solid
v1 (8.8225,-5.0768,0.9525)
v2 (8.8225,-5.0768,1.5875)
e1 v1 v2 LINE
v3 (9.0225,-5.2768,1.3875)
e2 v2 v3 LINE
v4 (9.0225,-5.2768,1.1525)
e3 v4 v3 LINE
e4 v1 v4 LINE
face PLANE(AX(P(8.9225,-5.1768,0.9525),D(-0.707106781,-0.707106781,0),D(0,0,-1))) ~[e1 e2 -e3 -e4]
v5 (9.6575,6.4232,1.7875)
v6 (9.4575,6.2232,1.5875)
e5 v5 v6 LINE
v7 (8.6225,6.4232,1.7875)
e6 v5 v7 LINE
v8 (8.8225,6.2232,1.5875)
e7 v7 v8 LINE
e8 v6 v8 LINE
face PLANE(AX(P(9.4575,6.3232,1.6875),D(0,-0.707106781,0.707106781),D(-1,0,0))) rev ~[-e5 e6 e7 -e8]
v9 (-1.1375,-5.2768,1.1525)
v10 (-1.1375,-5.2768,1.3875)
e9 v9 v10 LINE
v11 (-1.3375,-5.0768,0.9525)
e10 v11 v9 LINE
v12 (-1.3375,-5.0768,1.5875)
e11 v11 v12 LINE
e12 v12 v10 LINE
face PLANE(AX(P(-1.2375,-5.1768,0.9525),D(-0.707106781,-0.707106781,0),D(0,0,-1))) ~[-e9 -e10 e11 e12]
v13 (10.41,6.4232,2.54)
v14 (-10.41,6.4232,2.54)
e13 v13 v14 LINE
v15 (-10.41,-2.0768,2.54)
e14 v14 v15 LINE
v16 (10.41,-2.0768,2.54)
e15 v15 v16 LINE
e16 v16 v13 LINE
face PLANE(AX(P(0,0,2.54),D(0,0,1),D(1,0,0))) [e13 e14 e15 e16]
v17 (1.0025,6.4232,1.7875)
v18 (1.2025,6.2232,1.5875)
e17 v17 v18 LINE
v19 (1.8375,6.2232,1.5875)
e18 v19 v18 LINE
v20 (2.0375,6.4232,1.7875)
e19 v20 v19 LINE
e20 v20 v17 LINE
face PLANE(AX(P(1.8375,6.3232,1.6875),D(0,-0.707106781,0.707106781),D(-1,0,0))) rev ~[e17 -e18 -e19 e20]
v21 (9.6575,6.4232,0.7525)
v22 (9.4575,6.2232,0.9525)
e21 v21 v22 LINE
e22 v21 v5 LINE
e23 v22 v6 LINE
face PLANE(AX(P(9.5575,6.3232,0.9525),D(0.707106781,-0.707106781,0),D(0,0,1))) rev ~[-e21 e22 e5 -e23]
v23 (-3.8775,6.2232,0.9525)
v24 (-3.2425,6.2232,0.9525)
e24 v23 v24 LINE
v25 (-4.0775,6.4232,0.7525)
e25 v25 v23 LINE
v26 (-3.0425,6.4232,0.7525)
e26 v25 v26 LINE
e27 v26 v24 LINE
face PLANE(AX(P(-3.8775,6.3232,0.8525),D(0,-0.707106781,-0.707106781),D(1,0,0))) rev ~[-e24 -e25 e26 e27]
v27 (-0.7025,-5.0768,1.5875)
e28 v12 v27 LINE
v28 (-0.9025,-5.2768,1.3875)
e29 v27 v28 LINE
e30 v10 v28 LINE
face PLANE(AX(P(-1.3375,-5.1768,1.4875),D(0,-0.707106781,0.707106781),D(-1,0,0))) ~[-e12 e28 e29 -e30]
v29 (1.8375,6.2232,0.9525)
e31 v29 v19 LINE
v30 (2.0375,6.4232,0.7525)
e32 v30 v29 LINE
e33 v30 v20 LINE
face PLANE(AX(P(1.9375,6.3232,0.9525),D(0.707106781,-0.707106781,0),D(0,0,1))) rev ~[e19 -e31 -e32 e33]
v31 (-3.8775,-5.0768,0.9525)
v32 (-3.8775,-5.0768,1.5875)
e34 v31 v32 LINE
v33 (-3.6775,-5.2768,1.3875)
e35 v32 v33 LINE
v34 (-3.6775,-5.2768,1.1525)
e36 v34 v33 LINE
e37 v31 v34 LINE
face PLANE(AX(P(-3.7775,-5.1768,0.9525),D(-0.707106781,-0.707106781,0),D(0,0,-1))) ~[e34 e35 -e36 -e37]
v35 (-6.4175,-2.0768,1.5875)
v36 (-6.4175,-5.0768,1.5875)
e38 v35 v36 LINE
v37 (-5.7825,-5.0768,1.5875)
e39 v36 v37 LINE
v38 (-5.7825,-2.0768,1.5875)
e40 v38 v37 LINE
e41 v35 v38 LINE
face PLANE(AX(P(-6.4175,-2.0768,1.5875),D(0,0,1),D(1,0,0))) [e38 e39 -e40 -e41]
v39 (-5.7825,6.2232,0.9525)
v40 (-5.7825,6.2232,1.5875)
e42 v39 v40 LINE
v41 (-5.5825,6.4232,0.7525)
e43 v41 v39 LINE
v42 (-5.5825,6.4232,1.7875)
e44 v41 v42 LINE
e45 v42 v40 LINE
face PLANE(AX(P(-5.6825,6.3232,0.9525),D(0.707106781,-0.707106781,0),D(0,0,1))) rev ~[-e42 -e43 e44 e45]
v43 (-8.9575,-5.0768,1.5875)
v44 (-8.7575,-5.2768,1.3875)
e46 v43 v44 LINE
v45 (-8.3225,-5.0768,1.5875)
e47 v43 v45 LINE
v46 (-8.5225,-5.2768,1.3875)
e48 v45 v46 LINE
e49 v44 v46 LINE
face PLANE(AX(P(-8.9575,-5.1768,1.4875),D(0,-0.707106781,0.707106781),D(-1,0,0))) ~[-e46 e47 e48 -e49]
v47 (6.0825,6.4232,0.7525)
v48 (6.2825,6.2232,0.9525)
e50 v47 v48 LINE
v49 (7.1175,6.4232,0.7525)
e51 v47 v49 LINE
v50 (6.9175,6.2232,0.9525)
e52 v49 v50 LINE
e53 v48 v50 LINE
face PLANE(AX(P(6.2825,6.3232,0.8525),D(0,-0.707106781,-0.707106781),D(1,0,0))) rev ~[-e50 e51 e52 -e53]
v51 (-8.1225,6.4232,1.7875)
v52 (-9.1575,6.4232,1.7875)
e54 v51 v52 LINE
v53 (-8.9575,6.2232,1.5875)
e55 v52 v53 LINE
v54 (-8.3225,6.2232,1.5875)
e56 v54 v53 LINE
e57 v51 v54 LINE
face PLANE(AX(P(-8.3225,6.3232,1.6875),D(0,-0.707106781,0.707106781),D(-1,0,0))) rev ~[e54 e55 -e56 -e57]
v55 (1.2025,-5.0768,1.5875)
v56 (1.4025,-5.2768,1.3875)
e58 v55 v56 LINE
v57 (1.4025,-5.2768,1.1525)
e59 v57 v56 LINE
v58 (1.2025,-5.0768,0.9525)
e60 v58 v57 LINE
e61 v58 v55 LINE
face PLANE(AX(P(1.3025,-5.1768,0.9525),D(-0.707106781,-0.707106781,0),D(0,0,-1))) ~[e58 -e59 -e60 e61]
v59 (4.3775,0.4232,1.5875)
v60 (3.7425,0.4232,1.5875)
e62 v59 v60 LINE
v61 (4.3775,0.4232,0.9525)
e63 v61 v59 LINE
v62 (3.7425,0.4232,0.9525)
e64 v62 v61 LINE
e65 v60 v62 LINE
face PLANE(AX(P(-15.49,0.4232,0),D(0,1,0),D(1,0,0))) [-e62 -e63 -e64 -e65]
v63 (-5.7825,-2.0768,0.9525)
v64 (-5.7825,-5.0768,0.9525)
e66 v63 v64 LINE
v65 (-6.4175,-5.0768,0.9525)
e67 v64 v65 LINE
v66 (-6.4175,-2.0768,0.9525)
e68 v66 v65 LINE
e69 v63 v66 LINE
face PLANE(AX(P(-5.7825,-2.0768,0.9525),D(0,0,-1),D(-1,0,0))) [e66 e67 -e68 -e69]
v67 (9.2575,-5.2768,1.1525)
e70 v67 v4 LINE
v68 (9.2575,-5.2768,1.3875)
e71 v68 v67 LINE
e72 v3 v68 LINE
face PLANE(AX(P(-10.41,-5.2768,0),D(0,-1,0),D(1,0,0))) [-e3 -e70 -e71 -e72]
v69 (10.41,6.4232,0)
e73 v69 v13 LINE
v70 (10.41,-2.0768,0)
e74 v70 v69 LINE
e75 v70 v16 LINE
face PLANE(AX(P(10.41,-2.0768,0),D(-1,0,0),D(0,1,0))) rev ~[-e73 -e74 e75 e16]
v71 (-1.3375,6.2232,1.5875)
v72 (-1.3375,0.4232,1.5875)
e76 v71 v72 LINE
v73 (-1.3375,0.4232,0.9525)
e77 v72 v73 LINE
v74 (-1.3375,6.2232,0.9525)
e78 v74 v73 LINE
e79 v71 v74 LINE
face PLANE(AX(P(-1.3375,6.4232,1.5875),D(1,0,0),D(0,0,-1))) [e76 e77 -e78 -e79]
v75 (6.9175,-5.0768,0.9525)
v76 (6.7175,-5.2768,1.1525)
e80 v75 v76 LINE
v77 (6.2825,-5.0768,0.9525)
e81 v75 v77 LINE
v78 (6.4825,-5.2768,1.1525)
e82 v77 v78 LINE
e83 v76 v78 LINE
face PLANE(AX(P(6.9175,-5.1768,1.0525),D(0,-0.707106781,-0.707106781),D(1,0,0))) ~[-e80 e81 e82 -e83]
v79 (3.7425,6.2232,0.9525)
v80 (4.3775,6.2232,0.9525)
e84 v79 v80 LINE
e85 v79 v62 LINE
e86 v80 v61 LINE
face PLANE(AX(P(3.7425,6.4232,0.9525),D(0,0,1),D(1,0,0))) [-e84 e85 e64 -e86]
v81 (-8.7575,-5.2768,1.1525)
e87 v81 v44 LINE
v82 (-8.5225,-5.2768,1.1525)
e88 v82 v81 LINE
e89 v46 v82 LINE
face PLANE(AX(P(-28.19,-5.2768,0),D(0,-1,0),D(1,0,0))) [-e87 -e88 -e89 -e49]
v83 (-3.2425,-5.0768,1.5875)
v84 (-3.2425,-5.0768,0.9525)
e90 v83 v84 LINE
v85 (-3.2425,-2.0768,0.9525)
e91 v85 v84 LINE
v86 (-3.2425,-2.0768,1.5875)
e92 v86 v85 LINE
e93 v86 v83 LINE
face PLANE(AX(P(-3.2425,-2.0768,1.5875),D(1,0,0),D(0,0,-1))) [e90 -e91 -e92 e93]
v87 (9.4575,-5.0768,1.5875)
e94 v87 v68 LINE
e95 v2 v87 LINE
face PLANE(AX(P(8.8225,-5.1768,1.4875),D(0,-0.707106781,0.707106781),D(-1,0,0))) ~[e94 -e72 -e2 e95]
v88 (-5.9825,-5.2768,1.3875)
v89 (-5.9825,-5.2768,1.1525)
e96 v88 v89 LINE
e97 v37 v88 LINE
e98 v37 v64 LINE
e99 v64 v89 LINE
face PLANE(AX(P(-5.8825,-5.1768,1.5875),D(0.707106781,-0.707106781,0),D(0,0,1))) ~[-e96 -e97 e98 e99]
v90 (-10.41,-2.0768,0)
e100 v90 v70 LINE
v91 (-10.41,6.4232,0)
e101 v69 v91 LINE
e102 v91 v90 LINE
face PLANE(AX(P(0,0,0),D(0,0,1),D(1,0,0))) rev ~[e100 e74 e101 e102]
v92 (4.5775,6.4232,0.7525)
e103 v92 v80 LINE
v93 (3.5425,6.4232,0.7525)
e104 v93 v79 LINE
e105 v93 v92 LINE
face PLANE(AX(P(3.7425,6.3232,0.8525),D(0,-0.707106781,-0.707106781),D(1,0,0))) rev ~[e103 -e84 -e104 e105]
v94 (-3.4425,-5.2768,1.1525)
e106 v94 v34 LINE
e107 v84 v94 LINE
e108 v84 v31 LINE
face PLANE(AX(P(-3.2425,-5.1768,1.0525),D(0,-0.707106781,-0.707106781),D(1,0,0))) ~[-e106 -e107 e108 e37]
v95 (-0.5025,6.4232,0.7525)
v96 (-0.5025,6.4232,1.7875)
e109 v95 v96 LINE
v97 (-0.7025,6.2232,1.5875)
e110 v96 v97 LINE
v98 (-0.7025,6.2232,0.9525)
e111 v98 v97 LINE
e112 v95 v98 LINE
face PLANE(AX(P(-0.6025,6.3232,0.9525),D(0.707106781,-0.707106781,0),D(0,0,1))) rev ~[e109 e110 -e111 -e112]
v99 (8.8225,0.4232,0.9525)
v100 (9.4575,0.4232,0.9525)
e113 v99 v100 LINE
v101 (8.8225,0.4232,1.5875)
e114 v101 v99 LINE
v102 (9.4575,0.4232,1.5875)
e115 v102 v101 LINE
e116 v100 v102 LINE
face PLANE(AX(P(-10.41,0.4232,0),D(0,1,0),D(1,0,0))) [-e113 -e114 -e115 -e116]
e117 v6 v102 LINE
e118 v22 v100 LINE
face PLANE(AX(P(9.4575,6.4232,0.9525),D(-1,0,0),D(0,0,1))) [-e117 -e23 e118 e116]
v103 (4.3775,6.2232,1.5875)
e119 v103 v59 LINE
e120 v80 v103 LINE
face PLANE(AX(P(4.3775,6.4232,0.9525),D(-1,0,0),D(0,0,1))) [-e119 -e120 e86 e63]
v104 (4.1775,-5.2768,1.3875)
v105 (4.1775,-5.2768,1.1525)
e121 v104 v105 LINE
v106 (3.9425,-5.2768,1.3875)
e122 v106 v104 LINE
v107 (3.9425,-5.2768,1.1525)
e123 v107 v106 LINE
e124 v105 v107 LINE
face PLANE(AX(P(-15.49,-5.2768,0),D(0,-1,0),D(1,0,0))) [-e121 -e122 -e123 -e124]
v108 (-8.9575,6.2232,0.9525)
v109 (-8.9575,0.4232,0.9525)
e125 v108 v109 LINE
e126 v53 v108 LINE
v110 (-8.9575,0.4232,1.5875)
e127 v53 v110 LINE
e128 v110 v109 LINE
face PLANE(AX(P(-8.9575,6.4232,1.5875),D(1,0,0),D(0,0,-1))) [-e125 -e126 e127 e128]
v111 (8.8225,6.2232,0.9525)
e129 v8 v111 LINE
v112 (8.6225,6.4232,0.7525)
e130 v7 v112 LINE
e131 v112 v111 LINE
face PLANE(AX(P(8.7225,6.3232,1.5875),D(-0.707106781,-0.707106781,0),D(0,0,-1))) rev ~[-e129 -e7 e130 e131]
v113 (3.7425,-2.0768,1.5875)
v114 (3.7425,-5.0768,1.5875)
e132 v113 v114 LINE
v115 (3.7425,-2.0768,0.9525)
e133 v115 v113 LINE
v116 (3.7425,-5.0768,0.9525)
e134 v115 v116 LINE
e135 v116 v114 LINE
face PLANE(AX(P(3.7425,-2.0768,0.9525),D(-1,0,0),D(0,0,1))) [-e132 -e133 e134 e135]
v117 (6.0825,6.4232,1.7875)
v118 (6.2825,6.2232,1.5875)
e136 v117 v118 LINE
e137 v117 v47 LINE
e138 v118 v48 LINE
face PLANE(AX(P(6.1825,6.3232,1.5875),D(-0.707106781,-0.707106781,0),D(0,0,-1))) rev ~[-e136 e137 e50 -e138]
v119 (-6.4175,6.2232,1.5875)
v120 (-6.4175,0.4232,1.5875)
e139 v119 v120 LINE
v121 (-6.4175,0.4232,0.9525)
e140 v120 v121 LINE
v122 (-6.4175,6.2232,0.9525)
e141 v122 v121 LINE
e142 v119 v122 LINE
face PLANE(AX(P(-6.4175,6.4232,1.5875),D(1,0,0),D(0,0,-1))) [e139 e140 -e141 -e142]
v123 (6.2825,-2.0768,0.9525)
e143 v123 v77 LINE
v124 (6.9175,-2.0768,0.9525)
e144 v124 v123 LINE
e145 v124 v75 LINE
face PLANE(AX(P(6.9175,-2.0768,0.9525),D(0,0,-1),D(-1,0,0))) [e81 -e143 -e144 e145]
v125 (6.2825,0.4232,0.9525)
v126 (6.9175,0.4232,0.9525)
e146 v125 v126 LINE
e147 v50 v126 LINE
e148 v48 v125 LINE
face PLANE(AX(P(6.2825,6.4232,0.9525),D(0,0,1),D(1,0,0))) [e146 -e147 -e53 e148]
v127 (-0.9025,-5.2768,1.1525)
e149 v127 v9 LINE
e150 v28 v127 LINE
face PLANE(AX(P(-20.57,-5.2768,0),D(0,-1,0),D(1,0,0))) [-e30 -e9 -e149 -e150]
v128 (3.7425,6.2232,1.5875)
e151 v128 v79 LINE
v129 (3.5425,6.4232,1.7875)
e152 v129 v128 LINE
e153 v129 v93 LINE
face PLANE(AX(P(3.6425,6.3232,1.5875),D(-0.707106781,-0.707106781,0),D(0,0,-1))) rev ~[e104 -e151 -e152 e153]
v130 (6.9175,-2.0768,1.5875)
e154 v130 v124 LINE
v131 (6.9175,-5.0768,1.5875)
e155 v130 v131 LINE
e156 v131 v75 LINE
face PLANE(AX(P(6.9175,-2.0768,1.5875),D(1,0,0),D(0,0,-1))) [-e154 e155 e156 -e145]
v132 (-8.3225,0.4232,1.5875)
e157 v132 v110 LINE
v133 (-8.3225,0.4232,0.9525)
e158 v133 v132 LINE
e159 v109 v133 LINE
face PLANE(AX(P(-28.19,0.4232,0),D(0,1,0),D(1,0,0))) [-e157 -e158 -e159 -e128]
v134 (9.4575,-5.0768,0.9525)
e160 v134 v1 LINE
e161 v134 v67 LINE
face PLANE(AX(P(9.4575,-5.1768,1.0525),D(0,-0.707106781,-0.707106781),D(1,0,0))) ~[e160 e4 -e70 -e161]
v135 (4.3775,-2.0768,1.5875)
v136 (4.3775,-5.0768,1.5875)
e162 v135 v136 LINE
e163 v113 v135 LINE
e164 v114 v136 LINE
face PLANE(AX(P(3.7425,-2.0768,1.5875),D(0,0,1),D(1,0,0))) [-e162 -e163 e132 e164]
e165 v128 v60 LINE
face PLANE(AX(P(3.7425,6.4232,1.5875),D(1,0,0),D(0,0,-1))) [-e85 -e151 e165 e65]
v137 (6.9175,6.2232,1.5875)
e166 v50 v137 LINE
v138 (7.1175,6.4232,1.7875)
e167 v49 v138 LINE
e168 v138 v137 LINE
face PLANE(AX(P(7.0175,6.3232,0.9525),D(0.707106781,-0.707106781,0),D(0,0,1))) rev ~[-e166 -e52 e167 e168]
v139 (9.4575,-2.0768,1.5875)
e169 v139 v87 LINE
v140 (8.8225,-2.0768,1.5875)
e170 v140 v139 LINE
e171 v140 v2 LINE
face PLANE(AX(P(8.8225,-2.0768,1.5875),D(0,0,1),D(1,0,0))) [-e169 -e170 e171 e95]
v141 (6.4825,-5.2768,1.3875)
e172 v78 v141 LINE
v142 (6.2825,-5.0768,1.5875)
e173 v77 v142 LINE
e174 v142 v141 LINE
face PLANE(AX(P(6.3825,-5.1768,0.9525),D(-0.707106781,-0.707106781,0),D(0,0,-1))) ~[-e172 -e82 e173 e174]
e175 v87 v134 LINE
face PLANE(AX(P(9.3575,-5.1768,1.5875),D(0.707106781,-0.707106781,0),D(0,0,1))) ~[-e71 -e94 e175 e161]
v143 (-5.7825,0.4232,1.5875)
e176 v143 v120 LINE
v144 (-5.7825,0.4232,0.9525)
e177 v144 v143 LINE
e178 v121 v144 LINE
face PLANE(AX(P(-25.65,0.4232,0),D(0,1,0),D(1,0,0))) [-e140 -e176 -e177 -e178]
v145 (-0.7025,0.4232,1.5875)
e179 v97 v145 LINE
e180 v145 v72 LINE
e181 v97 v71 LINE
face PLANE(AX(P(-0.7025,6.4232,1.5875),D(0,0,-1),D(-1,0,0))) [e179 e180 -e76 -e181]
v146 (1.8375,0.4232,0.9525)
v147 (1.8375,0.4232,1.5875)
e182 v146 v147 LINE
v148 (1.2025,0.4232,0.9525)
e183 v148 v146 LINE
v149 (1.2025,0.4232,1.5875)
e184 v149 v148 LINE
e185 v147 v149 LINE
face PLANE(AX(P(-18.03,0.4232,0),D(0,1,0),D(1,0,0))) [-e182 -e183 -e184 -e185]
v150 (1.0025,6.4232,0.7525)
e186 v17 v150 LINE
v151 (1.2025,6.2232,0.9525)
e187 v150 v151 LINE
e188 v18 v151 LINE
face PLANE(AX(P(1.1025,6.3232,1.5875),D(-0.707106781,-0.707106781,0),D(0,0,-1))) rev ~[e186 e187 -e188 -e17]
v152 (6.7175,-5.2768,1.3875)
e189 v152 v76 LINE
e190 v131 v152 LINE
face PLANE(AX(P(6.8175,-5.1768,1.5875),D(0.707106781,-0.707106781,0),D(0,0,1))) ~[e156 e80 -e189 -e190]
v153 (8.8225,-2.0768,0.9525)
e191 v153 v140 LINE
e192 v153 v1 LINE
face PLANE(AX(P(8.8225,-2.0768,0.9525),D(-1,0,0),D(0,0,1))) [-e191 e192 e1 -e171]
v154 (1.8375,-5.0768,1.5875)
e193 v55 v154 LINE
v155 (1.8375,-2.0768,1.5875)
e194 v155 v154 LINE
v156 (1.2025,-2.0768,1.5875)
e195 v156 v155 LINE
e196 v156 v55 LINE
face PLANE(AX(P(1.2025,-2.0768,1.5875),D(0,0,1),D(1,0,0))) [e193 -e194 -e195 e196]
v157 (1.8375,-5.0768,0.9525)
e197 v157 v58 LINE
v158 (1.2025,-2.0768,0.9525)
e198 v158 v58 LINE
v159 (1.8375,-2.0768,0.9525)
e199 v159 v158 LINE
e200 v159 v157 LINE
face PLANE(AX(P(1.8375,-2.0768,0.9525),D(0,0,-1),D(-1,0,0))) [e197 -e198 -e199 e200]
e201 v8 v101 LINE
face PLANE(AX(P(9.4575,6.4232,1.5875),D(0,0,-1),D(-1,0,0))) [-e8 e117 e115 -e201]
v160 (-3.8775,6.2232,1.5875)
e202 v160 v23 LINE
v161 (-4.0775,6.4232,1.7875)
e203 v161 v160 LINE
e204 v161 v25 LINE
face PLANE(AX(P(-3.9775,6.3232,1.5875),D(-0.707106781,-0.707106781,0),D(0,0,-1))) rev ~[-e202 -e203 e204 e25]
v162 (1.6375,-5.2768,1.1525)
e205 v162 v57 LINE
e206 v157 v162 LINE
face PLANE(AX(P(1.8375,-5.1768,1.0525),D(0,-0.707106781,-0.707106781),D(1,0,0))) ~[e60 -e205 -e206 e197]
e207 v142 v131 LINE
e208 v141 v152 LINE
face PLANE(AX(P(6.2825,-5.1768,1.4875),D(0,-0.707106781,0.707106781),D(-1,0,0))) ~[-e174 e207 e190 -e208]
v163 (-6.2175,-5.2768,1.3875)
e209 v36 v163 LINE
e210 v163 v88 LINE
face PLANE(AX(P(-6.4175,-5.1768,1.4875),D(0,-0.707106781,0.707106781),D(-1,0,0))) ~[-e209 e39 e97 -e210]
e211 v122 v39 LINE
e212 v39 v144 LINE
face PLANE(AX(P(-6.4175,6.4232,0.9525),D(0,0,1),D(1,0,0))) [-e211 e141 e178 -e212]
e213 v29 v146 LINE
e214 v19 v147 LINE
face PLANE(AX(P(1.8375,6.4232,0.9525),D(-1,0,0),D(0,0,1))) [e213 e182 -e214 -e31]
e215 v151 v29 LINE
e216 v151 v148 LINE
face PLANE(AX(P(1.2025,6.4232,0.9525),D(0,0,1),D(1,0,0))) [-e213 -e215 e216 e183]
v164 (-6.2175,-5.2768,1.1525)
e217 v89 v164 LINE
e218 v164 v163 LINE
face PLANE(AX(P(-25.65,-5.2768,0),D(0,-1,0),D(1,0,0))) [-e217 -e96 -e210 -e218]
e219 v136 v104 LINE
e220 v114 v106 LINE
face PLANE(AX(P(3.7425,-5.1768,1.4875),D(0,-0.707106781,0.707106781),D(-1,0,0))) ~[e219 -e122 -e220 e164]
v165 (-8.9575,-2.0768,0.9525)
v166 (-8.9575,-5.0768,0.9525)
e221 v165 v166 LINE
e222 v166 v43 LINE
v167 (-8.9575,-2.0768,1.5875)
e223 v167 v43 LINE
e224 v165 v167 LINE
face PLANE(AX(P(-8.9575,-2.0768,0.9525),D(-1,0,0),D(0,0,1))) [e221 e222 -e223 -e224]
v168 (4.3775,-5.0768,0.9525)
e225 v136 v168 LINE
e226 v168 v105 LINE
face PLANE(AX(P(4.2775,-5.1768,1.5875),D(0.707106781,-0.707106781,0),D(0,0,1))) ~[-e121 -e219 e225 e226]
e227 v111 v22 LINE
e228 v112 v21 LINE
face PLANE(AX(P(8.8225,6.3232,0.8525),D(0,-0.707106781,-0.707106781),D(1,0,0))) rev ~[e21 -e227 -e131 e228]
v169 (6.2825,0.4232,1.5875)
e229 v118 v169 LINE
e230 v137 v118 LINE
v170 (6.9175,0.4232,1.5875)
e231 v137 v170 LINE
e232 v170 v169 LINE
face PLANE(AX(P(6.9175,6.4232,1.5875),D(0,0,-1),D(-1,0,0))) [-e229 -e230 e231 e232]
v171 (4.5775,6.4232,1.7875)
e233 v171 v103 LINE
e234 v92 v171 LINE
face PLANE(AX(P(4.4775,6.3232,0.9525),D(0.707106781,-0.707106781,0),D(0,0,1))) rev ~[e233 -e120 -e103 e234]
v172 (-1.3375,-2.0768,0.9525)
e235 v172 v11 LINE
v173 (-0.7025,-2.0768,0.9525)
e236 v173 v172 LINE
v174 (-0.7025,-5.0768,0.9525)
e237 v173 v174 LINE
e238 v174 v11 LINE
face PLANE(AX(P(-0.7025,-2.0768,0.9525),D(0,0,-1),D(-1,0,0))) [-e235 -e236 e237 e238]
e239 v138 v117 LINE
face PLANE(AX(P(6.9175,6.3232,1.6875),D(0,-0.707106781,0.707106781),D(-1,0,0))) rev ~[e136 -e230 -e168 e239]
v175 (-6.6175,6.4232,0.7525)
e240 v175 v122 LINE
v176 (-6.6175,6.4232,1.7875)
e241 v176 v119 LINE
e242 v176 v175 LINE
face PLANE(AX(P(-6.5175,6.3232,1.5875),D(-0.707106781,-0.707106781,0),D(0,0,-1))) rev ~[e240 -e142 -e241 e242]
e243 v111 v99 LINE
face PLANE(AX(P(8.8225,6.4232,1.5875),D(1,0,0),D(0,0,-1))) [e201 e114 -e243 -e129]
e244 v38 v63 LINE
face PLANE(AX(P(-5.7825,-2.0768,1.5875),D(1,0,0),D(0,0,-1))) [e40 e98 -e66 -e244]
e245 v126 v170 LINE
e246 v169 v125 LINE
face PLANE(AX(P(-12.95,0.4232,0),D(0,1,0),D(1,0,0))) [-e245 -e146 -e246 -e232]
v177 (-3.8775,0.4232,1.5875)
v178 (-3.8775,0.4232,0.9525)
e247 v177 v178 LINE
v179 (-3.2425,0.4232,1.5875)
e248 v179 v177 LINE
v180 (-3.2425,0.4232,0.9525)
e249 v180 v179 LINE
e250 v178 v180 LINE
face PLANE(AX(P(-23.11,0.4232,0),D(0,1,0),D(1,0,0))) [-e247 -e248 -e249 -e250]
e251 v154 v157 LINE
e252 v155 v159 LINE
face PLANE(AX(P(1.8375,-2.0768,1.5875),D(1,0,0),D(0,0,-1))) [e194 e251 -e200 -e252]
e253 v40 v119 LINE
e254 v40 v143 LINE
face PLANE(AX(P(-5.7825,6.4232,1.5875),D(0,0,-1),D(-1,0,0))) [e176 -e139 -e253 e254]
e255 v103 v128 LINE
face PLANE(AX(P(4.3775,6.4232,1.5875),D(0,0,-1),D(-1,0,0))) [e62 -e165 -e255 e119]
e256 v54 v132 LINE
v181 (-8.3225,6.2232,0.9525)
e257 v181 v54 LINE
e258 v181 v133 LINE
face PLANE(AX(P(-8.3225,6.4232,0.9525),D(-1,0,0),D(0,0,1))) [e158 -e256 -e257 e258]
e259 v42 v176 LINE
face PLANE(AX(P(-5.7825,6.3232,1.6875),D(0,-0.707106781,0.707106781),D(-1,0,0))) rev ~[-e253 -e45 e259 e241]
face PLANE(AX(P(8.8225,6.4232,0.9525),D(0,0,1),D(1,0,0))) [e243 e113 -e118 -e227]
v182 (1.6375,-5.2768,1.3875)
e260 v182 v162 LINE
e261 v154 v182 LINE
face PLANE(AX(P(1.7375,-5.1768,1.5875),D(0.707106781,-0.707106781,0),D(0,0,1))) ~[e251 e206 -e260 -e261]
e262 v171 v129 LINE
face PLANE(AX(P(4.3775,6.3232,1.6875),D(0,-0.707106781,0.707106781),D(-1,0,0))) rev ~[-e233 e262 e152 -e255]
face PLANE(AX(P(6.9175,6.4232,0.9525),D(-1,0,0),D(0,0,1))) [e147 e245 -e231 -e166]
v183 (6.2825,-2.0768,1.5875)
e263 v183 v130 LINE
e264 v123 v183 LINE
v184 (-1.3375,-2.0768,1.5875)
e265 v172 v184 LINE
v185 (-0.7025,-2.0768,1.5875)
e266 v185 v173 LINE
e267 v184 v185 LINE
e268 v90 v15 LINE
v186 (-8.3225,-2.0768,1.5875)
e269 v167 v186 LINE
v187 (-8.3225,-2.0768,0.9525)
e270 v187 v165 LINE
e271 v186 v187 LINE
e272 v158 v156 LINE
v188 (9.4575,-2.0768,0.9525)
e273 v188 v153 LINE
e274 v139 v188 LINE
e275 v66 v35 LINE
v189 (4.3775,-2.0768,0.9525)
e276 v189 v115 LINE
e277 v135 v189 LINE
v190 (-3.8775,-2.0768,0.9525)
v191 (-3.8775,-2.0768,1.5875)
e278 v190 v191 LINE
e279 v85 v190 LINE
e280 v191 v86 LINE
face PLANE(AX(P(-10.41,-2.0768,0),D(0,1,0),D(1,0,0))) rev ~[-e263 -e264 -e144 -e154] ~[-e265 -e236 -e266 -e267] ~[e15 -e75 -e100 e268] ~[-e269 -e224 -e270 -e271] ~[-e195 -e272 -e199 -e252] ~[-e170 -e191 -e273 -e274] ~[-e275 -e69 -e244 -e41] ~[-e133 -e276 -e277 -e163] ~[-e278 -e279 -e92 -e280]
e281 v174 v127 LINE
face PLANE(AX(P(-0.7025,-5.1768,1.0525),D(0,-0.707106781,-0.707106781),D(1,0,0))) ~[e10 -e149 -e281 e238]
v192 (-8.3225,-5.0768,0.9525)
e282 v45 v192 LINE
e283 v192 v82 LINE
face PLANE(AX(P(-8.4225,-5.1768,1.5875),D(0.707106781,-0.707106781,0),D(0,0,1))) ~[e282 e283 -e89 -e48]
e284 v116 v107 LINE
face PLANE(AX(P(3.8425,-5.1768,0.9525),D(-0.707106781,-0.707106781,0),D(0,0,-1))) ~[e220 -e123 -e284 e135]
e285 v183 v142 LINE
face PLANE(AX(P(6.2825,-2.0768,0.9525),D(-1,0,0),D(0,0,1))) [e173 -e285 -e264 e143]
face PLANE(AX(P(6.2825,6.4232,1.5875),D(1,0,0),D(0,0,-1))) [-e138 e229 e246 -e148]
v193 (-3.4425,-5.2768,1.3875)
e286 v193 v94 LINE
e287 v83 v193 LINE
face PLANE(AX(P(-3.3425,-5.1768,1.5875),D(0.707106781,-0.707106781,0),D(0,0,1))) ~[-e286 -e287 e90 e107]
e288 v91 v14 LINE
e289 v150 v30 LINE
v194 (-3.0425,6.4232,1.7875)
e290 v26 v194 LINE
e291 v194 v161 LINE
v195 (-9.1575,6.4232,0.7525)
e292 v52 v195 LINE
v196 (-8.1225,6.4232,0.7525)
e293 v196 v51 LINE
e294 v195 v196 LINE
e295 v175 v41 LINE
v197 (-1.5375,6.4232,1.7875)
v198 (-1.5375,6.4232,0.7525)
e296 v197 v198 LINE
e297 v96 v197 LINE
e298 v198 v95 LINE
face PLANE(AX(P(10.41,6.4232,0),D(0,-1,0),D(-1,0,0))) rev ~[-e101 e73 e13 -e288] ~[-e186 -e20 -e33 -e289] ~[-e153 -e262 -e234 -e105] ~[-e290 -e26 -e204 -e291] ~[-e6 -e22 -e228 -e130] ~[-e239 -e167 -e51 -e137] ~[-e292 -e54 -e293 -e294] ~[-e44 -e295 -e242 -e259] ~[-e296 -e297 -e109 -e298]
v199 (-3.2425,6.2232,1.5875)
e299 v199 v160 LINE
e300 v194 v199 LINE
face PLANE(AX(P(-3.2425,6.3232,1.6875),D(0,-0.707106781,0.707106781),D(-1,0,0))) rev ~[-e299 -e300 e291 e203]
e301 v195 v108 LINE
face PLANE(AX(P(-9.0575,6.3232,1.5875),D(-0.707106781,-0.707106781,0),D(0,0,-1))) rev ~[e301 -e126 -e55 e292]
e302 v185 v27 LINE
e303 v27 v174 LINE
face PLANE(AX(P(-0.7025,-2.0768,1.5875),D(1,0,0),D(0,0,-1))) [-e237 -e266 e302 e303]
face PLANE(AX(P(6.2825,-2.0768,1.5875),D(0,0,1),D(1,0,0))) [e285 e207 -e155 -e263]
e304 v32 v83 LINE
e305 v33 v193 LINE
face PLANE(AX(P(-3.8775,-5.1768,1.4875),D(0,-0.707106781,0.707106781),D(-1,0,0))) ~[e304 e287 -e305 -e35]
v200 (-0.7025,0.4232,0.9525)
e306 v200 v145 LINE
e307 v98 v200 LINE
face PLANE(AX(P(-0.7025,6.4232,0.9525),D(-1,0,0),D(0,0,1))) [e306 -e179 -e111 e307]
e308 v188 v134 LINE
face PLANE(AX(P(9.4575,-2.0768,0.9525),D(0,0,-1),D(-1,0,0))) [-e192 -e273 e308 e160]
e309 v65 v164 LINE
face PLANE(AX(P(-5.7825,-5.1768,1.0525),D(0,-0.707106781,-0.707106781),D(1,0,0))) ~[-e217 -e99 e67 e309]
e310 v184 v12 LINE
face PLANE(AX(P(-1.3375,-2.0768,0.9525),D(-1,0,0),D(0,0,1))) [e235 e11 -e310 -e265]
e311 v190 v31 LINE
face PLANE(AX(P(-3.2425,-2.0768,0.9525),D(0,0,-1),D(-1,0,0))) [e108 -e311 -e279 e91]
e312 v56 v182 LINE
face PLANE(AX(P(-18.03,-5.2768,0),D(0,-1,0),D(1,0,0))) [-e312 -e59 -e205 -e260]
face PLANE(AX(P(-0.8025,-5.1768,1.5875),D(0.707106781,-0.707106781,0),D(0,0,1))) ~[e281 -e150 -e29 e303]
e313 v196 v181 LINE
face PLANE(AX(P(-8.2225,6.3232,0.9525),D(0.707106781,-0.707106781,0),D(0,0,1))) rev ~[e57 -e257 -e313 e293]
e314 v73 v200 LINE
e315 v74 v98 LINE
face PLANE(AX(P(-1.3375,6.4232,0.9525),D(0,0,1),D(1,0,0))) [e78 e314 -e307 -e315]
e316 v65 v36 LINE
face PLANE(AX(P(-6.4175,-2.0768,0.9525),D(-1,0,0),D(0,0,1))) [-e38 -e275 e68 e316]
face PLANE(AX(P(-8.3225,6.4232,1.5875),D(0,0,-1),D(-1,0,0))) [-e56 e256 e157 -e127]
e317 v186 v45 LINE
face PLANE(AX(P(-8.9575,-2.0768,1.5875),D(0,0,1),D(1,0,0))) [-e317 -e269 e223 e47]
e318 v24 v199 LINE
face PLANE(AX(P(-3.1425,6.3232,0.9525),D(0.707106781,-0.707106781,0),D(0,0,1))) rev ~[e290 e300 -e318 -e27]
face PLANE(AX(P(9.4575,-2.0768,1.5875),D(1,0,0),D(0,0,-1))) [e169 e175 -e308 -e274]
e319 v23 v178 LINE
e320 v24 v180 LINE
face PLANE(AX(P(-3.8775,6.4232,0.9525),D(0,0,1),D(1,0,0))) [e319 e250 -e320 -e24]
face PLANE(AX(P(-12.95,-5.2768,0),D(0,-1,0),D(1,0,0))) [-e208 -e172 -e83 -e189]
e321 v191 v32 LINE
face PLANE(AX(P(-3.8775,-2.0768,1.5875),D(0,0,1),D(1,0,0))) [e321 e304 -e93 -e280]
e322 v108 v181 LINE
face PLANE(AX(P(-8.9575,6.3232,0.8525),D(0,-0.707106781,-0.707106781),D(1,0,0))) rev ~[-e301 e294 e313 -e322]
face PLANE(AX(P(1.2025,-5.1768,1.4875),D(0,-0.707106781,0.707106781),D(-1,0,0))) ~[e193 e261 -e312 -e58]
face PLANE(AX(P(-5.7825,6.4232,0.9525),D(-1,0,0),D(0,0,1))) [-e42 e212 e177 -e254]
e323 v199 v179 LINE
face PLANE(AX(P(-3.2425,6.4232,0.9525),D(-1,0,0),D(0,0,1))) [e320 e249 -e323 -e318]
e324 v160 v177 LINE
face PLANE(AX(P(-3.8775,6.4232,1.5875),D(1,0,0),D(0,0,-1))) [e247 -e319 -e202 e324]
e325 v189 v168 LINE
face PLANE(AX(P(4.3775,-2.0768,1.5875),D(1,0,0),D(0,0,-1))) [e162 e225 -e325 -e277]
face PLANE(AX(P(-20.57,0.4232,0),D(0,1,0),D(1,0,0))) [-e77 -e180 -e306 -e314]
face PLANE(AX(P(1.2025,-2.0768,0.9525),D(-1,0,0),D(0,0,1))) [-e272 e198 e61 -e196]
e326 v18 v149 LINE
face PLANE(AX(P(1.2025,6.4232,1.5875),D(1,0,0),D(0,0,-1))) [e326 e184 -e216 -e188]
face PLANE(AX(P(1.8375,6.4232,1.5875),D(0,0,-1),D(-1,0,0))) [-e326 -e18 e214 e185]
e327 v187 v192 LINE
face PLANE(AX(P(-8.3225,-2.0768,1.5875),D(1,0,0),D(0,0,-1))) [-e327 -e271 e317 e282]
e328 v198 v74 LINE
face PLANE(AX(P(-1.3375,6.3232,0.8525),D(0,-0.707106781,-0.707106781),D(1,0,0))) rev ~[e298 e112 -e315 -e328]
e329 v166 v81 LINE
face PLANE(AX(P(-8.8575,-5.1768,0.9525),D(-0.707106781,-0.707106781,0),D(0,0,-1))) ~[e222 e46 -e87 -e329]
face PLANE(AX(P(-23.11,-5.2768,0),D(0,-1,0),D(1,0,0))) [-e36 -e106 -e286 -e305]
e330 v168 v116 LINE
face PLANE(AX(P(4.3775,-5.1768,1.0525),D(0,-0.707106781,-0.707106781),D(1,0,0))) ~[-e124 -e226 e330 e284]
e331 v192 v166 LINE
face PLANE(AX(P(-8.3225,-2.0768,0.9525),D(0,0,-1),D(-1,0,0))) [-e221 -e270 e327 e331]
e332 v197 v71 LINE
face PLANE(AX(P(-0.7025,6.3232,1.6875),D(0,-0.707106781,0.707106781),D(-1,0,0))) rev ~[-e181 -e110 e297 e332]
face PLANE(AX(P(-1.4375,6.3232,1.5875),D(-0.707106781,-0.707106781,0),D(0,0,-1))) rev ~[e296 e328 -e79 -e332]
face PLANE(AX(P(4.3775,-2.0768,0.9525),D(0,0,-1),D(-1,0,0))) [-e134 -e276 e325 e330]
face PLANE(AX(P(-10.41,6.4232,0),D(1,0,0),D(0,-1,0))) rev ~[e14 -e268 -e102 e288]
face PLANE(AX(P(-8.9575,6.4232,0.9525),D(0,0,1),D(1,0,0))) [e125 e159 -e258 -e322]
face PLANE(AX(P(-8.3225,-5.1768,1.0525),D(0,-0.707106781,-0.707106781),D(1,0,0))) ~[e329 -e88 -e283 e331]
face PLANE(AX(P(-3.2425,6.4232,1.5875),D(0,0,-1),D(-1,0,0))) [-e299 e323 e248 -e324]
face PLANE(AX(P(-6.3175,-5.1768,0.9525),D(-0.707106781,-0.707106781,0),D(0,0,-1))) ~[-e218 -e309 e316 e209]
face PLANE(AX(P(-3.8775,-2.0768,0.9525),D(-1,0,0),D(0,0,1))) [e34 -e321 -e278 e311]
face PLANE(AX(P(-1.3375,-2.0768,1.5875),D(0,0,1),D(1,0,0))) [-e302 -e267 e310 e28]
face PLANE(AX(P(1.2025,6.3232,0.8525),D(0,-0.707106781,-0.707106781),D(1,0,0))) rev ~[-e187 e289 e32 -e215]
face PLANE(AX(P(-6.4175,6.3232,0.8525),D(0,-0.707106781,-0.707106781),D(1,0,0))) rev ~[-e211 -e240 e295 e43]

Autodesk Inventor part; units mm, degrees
ref_plane "YZ Plane" through (0, 0, 0) normal (1, 0, 0) x (0, 1, 0)
ref_plane "XZ Plane" through (0, 0, 0) normal (0, 1, 0) x (-1, 0, 0)
ref_plane "XY Plane" through (0, 0, 0) normal (0, 0, 1) x (1, 0, 0)
sketch "Sketch1" plane through (0, 0, 0) normal (0, 0, 1) x (1, 0, 0)
  line L0 (-10.41, -2.0768) -> (10.41, -2.0768)
  line L1 (10.41, -2.0768) -> (10.41, 6.4232)
  line L2 (10.41, 6.4232) -> (-10.41, 6.4232)
  line L3 (-10.41, 6.4232) -> (-10.41, -2.0768)
  line L4 (0, 0) -> (0, 6.4232) construction
  dimension "d1" = 20.82
  dimension "d2" = 8.5
extrude "Extrusion1" add sketch "Sketch1" along normal blind 2.54
sketch "Sketch3" plane through (-10.41, 6.4232, 0) normal (0, 1, 0) x (1, 0, 0)
  line L0 (0, 0) -> (0, -2.54) construction
  line L1 (0, -1.27) -> (20.82, -1.27) construction
  line L2 (20.82, 0) -> (20.82, -2.54) construction
  line L3 (19.2325, -0.9525) -> (19.8675, -0.9525)
  line L4 (19.8675, -0.9525) -> (19.8675, -1.5875)
  line L5 (19.8675, -1.5875) -> (19.2325, -1.5875)
  line L6 (19.2325, -1.5875) -> (19.2325, -0.9525)
  line L7 (19.55, -1.5875) -> (19.55, -0.9525) construction
  point P0 (10.41, 0)
  dimension "d18" = 0.635
  dimension "d19" = 1.27
extrude "Extrusion3" cut sketch "Sketch3" against normal blind 6
chamfer "Chamfer1" distance 0.2 angle 45 4 edges at (8.8225, 6.4232, 1.27) (9.14, 6.4232, 0.9525) (9.4575, 6.4232, 1.27) (9.14, 6.4232, 1.5875)
pattern_linear "Rectangular Pattern1" count 8 spacing 2.54 along (-1, 0, 0) of "Extrusion3", "Chamfer1"
sketch "Sketch4" plane through (-10.41, -2.0768, 0) normal (0, -1, 0) x (1, 0, 0)
  line L0 (19.2325, 1.5875) -> (19.8675, 1.5875)
  line L1 (19.8675, 1.5875) -> (19.8675, 0.9525)
  line L2 (19.8675, 0.9525) -> (19.2325, 0.9525)
  line L3 (19.2325, 0.9525) -> (19.2325, 1.5875)
  line L4 (0, 0) -> (0, 2.54) construction
  line L5 (0, 1.27) -> (20.82, 1.27) construction
  line L6 (20.82, 0) -> (20.82, 2.54) construction
  line L7 (19.55, 0.9525) -> (19.55, 1.5875) construction
  point P0 (10.41, 0)
  dimension "d28" = 0.635
  dimension "d29" = 1.27
extrude "Extrusion4" add sketch "Sketch4" along normal blind 3.2
chamfer "Chamfer2" distance 0.2 angle 45 4 edges at (8.8225, -5.2768, 1.27) (9.14, -5.2768, 1.5875) (9.4575, -5.2768, 1.27) (9.14, -5.2768, 0.9525)
pattern_linear "Rectangular Pattern2" count 8 spacing 2.54 along (-1, 0, 0) of "Extrusion4", "Chamfer2"
equation "\"d22\" = pinChamfer"
equation "\"d32\" = pinChamfer"
equation "\"pinChamfer\" = 0.2"
properties part number "8Pin_Header"
